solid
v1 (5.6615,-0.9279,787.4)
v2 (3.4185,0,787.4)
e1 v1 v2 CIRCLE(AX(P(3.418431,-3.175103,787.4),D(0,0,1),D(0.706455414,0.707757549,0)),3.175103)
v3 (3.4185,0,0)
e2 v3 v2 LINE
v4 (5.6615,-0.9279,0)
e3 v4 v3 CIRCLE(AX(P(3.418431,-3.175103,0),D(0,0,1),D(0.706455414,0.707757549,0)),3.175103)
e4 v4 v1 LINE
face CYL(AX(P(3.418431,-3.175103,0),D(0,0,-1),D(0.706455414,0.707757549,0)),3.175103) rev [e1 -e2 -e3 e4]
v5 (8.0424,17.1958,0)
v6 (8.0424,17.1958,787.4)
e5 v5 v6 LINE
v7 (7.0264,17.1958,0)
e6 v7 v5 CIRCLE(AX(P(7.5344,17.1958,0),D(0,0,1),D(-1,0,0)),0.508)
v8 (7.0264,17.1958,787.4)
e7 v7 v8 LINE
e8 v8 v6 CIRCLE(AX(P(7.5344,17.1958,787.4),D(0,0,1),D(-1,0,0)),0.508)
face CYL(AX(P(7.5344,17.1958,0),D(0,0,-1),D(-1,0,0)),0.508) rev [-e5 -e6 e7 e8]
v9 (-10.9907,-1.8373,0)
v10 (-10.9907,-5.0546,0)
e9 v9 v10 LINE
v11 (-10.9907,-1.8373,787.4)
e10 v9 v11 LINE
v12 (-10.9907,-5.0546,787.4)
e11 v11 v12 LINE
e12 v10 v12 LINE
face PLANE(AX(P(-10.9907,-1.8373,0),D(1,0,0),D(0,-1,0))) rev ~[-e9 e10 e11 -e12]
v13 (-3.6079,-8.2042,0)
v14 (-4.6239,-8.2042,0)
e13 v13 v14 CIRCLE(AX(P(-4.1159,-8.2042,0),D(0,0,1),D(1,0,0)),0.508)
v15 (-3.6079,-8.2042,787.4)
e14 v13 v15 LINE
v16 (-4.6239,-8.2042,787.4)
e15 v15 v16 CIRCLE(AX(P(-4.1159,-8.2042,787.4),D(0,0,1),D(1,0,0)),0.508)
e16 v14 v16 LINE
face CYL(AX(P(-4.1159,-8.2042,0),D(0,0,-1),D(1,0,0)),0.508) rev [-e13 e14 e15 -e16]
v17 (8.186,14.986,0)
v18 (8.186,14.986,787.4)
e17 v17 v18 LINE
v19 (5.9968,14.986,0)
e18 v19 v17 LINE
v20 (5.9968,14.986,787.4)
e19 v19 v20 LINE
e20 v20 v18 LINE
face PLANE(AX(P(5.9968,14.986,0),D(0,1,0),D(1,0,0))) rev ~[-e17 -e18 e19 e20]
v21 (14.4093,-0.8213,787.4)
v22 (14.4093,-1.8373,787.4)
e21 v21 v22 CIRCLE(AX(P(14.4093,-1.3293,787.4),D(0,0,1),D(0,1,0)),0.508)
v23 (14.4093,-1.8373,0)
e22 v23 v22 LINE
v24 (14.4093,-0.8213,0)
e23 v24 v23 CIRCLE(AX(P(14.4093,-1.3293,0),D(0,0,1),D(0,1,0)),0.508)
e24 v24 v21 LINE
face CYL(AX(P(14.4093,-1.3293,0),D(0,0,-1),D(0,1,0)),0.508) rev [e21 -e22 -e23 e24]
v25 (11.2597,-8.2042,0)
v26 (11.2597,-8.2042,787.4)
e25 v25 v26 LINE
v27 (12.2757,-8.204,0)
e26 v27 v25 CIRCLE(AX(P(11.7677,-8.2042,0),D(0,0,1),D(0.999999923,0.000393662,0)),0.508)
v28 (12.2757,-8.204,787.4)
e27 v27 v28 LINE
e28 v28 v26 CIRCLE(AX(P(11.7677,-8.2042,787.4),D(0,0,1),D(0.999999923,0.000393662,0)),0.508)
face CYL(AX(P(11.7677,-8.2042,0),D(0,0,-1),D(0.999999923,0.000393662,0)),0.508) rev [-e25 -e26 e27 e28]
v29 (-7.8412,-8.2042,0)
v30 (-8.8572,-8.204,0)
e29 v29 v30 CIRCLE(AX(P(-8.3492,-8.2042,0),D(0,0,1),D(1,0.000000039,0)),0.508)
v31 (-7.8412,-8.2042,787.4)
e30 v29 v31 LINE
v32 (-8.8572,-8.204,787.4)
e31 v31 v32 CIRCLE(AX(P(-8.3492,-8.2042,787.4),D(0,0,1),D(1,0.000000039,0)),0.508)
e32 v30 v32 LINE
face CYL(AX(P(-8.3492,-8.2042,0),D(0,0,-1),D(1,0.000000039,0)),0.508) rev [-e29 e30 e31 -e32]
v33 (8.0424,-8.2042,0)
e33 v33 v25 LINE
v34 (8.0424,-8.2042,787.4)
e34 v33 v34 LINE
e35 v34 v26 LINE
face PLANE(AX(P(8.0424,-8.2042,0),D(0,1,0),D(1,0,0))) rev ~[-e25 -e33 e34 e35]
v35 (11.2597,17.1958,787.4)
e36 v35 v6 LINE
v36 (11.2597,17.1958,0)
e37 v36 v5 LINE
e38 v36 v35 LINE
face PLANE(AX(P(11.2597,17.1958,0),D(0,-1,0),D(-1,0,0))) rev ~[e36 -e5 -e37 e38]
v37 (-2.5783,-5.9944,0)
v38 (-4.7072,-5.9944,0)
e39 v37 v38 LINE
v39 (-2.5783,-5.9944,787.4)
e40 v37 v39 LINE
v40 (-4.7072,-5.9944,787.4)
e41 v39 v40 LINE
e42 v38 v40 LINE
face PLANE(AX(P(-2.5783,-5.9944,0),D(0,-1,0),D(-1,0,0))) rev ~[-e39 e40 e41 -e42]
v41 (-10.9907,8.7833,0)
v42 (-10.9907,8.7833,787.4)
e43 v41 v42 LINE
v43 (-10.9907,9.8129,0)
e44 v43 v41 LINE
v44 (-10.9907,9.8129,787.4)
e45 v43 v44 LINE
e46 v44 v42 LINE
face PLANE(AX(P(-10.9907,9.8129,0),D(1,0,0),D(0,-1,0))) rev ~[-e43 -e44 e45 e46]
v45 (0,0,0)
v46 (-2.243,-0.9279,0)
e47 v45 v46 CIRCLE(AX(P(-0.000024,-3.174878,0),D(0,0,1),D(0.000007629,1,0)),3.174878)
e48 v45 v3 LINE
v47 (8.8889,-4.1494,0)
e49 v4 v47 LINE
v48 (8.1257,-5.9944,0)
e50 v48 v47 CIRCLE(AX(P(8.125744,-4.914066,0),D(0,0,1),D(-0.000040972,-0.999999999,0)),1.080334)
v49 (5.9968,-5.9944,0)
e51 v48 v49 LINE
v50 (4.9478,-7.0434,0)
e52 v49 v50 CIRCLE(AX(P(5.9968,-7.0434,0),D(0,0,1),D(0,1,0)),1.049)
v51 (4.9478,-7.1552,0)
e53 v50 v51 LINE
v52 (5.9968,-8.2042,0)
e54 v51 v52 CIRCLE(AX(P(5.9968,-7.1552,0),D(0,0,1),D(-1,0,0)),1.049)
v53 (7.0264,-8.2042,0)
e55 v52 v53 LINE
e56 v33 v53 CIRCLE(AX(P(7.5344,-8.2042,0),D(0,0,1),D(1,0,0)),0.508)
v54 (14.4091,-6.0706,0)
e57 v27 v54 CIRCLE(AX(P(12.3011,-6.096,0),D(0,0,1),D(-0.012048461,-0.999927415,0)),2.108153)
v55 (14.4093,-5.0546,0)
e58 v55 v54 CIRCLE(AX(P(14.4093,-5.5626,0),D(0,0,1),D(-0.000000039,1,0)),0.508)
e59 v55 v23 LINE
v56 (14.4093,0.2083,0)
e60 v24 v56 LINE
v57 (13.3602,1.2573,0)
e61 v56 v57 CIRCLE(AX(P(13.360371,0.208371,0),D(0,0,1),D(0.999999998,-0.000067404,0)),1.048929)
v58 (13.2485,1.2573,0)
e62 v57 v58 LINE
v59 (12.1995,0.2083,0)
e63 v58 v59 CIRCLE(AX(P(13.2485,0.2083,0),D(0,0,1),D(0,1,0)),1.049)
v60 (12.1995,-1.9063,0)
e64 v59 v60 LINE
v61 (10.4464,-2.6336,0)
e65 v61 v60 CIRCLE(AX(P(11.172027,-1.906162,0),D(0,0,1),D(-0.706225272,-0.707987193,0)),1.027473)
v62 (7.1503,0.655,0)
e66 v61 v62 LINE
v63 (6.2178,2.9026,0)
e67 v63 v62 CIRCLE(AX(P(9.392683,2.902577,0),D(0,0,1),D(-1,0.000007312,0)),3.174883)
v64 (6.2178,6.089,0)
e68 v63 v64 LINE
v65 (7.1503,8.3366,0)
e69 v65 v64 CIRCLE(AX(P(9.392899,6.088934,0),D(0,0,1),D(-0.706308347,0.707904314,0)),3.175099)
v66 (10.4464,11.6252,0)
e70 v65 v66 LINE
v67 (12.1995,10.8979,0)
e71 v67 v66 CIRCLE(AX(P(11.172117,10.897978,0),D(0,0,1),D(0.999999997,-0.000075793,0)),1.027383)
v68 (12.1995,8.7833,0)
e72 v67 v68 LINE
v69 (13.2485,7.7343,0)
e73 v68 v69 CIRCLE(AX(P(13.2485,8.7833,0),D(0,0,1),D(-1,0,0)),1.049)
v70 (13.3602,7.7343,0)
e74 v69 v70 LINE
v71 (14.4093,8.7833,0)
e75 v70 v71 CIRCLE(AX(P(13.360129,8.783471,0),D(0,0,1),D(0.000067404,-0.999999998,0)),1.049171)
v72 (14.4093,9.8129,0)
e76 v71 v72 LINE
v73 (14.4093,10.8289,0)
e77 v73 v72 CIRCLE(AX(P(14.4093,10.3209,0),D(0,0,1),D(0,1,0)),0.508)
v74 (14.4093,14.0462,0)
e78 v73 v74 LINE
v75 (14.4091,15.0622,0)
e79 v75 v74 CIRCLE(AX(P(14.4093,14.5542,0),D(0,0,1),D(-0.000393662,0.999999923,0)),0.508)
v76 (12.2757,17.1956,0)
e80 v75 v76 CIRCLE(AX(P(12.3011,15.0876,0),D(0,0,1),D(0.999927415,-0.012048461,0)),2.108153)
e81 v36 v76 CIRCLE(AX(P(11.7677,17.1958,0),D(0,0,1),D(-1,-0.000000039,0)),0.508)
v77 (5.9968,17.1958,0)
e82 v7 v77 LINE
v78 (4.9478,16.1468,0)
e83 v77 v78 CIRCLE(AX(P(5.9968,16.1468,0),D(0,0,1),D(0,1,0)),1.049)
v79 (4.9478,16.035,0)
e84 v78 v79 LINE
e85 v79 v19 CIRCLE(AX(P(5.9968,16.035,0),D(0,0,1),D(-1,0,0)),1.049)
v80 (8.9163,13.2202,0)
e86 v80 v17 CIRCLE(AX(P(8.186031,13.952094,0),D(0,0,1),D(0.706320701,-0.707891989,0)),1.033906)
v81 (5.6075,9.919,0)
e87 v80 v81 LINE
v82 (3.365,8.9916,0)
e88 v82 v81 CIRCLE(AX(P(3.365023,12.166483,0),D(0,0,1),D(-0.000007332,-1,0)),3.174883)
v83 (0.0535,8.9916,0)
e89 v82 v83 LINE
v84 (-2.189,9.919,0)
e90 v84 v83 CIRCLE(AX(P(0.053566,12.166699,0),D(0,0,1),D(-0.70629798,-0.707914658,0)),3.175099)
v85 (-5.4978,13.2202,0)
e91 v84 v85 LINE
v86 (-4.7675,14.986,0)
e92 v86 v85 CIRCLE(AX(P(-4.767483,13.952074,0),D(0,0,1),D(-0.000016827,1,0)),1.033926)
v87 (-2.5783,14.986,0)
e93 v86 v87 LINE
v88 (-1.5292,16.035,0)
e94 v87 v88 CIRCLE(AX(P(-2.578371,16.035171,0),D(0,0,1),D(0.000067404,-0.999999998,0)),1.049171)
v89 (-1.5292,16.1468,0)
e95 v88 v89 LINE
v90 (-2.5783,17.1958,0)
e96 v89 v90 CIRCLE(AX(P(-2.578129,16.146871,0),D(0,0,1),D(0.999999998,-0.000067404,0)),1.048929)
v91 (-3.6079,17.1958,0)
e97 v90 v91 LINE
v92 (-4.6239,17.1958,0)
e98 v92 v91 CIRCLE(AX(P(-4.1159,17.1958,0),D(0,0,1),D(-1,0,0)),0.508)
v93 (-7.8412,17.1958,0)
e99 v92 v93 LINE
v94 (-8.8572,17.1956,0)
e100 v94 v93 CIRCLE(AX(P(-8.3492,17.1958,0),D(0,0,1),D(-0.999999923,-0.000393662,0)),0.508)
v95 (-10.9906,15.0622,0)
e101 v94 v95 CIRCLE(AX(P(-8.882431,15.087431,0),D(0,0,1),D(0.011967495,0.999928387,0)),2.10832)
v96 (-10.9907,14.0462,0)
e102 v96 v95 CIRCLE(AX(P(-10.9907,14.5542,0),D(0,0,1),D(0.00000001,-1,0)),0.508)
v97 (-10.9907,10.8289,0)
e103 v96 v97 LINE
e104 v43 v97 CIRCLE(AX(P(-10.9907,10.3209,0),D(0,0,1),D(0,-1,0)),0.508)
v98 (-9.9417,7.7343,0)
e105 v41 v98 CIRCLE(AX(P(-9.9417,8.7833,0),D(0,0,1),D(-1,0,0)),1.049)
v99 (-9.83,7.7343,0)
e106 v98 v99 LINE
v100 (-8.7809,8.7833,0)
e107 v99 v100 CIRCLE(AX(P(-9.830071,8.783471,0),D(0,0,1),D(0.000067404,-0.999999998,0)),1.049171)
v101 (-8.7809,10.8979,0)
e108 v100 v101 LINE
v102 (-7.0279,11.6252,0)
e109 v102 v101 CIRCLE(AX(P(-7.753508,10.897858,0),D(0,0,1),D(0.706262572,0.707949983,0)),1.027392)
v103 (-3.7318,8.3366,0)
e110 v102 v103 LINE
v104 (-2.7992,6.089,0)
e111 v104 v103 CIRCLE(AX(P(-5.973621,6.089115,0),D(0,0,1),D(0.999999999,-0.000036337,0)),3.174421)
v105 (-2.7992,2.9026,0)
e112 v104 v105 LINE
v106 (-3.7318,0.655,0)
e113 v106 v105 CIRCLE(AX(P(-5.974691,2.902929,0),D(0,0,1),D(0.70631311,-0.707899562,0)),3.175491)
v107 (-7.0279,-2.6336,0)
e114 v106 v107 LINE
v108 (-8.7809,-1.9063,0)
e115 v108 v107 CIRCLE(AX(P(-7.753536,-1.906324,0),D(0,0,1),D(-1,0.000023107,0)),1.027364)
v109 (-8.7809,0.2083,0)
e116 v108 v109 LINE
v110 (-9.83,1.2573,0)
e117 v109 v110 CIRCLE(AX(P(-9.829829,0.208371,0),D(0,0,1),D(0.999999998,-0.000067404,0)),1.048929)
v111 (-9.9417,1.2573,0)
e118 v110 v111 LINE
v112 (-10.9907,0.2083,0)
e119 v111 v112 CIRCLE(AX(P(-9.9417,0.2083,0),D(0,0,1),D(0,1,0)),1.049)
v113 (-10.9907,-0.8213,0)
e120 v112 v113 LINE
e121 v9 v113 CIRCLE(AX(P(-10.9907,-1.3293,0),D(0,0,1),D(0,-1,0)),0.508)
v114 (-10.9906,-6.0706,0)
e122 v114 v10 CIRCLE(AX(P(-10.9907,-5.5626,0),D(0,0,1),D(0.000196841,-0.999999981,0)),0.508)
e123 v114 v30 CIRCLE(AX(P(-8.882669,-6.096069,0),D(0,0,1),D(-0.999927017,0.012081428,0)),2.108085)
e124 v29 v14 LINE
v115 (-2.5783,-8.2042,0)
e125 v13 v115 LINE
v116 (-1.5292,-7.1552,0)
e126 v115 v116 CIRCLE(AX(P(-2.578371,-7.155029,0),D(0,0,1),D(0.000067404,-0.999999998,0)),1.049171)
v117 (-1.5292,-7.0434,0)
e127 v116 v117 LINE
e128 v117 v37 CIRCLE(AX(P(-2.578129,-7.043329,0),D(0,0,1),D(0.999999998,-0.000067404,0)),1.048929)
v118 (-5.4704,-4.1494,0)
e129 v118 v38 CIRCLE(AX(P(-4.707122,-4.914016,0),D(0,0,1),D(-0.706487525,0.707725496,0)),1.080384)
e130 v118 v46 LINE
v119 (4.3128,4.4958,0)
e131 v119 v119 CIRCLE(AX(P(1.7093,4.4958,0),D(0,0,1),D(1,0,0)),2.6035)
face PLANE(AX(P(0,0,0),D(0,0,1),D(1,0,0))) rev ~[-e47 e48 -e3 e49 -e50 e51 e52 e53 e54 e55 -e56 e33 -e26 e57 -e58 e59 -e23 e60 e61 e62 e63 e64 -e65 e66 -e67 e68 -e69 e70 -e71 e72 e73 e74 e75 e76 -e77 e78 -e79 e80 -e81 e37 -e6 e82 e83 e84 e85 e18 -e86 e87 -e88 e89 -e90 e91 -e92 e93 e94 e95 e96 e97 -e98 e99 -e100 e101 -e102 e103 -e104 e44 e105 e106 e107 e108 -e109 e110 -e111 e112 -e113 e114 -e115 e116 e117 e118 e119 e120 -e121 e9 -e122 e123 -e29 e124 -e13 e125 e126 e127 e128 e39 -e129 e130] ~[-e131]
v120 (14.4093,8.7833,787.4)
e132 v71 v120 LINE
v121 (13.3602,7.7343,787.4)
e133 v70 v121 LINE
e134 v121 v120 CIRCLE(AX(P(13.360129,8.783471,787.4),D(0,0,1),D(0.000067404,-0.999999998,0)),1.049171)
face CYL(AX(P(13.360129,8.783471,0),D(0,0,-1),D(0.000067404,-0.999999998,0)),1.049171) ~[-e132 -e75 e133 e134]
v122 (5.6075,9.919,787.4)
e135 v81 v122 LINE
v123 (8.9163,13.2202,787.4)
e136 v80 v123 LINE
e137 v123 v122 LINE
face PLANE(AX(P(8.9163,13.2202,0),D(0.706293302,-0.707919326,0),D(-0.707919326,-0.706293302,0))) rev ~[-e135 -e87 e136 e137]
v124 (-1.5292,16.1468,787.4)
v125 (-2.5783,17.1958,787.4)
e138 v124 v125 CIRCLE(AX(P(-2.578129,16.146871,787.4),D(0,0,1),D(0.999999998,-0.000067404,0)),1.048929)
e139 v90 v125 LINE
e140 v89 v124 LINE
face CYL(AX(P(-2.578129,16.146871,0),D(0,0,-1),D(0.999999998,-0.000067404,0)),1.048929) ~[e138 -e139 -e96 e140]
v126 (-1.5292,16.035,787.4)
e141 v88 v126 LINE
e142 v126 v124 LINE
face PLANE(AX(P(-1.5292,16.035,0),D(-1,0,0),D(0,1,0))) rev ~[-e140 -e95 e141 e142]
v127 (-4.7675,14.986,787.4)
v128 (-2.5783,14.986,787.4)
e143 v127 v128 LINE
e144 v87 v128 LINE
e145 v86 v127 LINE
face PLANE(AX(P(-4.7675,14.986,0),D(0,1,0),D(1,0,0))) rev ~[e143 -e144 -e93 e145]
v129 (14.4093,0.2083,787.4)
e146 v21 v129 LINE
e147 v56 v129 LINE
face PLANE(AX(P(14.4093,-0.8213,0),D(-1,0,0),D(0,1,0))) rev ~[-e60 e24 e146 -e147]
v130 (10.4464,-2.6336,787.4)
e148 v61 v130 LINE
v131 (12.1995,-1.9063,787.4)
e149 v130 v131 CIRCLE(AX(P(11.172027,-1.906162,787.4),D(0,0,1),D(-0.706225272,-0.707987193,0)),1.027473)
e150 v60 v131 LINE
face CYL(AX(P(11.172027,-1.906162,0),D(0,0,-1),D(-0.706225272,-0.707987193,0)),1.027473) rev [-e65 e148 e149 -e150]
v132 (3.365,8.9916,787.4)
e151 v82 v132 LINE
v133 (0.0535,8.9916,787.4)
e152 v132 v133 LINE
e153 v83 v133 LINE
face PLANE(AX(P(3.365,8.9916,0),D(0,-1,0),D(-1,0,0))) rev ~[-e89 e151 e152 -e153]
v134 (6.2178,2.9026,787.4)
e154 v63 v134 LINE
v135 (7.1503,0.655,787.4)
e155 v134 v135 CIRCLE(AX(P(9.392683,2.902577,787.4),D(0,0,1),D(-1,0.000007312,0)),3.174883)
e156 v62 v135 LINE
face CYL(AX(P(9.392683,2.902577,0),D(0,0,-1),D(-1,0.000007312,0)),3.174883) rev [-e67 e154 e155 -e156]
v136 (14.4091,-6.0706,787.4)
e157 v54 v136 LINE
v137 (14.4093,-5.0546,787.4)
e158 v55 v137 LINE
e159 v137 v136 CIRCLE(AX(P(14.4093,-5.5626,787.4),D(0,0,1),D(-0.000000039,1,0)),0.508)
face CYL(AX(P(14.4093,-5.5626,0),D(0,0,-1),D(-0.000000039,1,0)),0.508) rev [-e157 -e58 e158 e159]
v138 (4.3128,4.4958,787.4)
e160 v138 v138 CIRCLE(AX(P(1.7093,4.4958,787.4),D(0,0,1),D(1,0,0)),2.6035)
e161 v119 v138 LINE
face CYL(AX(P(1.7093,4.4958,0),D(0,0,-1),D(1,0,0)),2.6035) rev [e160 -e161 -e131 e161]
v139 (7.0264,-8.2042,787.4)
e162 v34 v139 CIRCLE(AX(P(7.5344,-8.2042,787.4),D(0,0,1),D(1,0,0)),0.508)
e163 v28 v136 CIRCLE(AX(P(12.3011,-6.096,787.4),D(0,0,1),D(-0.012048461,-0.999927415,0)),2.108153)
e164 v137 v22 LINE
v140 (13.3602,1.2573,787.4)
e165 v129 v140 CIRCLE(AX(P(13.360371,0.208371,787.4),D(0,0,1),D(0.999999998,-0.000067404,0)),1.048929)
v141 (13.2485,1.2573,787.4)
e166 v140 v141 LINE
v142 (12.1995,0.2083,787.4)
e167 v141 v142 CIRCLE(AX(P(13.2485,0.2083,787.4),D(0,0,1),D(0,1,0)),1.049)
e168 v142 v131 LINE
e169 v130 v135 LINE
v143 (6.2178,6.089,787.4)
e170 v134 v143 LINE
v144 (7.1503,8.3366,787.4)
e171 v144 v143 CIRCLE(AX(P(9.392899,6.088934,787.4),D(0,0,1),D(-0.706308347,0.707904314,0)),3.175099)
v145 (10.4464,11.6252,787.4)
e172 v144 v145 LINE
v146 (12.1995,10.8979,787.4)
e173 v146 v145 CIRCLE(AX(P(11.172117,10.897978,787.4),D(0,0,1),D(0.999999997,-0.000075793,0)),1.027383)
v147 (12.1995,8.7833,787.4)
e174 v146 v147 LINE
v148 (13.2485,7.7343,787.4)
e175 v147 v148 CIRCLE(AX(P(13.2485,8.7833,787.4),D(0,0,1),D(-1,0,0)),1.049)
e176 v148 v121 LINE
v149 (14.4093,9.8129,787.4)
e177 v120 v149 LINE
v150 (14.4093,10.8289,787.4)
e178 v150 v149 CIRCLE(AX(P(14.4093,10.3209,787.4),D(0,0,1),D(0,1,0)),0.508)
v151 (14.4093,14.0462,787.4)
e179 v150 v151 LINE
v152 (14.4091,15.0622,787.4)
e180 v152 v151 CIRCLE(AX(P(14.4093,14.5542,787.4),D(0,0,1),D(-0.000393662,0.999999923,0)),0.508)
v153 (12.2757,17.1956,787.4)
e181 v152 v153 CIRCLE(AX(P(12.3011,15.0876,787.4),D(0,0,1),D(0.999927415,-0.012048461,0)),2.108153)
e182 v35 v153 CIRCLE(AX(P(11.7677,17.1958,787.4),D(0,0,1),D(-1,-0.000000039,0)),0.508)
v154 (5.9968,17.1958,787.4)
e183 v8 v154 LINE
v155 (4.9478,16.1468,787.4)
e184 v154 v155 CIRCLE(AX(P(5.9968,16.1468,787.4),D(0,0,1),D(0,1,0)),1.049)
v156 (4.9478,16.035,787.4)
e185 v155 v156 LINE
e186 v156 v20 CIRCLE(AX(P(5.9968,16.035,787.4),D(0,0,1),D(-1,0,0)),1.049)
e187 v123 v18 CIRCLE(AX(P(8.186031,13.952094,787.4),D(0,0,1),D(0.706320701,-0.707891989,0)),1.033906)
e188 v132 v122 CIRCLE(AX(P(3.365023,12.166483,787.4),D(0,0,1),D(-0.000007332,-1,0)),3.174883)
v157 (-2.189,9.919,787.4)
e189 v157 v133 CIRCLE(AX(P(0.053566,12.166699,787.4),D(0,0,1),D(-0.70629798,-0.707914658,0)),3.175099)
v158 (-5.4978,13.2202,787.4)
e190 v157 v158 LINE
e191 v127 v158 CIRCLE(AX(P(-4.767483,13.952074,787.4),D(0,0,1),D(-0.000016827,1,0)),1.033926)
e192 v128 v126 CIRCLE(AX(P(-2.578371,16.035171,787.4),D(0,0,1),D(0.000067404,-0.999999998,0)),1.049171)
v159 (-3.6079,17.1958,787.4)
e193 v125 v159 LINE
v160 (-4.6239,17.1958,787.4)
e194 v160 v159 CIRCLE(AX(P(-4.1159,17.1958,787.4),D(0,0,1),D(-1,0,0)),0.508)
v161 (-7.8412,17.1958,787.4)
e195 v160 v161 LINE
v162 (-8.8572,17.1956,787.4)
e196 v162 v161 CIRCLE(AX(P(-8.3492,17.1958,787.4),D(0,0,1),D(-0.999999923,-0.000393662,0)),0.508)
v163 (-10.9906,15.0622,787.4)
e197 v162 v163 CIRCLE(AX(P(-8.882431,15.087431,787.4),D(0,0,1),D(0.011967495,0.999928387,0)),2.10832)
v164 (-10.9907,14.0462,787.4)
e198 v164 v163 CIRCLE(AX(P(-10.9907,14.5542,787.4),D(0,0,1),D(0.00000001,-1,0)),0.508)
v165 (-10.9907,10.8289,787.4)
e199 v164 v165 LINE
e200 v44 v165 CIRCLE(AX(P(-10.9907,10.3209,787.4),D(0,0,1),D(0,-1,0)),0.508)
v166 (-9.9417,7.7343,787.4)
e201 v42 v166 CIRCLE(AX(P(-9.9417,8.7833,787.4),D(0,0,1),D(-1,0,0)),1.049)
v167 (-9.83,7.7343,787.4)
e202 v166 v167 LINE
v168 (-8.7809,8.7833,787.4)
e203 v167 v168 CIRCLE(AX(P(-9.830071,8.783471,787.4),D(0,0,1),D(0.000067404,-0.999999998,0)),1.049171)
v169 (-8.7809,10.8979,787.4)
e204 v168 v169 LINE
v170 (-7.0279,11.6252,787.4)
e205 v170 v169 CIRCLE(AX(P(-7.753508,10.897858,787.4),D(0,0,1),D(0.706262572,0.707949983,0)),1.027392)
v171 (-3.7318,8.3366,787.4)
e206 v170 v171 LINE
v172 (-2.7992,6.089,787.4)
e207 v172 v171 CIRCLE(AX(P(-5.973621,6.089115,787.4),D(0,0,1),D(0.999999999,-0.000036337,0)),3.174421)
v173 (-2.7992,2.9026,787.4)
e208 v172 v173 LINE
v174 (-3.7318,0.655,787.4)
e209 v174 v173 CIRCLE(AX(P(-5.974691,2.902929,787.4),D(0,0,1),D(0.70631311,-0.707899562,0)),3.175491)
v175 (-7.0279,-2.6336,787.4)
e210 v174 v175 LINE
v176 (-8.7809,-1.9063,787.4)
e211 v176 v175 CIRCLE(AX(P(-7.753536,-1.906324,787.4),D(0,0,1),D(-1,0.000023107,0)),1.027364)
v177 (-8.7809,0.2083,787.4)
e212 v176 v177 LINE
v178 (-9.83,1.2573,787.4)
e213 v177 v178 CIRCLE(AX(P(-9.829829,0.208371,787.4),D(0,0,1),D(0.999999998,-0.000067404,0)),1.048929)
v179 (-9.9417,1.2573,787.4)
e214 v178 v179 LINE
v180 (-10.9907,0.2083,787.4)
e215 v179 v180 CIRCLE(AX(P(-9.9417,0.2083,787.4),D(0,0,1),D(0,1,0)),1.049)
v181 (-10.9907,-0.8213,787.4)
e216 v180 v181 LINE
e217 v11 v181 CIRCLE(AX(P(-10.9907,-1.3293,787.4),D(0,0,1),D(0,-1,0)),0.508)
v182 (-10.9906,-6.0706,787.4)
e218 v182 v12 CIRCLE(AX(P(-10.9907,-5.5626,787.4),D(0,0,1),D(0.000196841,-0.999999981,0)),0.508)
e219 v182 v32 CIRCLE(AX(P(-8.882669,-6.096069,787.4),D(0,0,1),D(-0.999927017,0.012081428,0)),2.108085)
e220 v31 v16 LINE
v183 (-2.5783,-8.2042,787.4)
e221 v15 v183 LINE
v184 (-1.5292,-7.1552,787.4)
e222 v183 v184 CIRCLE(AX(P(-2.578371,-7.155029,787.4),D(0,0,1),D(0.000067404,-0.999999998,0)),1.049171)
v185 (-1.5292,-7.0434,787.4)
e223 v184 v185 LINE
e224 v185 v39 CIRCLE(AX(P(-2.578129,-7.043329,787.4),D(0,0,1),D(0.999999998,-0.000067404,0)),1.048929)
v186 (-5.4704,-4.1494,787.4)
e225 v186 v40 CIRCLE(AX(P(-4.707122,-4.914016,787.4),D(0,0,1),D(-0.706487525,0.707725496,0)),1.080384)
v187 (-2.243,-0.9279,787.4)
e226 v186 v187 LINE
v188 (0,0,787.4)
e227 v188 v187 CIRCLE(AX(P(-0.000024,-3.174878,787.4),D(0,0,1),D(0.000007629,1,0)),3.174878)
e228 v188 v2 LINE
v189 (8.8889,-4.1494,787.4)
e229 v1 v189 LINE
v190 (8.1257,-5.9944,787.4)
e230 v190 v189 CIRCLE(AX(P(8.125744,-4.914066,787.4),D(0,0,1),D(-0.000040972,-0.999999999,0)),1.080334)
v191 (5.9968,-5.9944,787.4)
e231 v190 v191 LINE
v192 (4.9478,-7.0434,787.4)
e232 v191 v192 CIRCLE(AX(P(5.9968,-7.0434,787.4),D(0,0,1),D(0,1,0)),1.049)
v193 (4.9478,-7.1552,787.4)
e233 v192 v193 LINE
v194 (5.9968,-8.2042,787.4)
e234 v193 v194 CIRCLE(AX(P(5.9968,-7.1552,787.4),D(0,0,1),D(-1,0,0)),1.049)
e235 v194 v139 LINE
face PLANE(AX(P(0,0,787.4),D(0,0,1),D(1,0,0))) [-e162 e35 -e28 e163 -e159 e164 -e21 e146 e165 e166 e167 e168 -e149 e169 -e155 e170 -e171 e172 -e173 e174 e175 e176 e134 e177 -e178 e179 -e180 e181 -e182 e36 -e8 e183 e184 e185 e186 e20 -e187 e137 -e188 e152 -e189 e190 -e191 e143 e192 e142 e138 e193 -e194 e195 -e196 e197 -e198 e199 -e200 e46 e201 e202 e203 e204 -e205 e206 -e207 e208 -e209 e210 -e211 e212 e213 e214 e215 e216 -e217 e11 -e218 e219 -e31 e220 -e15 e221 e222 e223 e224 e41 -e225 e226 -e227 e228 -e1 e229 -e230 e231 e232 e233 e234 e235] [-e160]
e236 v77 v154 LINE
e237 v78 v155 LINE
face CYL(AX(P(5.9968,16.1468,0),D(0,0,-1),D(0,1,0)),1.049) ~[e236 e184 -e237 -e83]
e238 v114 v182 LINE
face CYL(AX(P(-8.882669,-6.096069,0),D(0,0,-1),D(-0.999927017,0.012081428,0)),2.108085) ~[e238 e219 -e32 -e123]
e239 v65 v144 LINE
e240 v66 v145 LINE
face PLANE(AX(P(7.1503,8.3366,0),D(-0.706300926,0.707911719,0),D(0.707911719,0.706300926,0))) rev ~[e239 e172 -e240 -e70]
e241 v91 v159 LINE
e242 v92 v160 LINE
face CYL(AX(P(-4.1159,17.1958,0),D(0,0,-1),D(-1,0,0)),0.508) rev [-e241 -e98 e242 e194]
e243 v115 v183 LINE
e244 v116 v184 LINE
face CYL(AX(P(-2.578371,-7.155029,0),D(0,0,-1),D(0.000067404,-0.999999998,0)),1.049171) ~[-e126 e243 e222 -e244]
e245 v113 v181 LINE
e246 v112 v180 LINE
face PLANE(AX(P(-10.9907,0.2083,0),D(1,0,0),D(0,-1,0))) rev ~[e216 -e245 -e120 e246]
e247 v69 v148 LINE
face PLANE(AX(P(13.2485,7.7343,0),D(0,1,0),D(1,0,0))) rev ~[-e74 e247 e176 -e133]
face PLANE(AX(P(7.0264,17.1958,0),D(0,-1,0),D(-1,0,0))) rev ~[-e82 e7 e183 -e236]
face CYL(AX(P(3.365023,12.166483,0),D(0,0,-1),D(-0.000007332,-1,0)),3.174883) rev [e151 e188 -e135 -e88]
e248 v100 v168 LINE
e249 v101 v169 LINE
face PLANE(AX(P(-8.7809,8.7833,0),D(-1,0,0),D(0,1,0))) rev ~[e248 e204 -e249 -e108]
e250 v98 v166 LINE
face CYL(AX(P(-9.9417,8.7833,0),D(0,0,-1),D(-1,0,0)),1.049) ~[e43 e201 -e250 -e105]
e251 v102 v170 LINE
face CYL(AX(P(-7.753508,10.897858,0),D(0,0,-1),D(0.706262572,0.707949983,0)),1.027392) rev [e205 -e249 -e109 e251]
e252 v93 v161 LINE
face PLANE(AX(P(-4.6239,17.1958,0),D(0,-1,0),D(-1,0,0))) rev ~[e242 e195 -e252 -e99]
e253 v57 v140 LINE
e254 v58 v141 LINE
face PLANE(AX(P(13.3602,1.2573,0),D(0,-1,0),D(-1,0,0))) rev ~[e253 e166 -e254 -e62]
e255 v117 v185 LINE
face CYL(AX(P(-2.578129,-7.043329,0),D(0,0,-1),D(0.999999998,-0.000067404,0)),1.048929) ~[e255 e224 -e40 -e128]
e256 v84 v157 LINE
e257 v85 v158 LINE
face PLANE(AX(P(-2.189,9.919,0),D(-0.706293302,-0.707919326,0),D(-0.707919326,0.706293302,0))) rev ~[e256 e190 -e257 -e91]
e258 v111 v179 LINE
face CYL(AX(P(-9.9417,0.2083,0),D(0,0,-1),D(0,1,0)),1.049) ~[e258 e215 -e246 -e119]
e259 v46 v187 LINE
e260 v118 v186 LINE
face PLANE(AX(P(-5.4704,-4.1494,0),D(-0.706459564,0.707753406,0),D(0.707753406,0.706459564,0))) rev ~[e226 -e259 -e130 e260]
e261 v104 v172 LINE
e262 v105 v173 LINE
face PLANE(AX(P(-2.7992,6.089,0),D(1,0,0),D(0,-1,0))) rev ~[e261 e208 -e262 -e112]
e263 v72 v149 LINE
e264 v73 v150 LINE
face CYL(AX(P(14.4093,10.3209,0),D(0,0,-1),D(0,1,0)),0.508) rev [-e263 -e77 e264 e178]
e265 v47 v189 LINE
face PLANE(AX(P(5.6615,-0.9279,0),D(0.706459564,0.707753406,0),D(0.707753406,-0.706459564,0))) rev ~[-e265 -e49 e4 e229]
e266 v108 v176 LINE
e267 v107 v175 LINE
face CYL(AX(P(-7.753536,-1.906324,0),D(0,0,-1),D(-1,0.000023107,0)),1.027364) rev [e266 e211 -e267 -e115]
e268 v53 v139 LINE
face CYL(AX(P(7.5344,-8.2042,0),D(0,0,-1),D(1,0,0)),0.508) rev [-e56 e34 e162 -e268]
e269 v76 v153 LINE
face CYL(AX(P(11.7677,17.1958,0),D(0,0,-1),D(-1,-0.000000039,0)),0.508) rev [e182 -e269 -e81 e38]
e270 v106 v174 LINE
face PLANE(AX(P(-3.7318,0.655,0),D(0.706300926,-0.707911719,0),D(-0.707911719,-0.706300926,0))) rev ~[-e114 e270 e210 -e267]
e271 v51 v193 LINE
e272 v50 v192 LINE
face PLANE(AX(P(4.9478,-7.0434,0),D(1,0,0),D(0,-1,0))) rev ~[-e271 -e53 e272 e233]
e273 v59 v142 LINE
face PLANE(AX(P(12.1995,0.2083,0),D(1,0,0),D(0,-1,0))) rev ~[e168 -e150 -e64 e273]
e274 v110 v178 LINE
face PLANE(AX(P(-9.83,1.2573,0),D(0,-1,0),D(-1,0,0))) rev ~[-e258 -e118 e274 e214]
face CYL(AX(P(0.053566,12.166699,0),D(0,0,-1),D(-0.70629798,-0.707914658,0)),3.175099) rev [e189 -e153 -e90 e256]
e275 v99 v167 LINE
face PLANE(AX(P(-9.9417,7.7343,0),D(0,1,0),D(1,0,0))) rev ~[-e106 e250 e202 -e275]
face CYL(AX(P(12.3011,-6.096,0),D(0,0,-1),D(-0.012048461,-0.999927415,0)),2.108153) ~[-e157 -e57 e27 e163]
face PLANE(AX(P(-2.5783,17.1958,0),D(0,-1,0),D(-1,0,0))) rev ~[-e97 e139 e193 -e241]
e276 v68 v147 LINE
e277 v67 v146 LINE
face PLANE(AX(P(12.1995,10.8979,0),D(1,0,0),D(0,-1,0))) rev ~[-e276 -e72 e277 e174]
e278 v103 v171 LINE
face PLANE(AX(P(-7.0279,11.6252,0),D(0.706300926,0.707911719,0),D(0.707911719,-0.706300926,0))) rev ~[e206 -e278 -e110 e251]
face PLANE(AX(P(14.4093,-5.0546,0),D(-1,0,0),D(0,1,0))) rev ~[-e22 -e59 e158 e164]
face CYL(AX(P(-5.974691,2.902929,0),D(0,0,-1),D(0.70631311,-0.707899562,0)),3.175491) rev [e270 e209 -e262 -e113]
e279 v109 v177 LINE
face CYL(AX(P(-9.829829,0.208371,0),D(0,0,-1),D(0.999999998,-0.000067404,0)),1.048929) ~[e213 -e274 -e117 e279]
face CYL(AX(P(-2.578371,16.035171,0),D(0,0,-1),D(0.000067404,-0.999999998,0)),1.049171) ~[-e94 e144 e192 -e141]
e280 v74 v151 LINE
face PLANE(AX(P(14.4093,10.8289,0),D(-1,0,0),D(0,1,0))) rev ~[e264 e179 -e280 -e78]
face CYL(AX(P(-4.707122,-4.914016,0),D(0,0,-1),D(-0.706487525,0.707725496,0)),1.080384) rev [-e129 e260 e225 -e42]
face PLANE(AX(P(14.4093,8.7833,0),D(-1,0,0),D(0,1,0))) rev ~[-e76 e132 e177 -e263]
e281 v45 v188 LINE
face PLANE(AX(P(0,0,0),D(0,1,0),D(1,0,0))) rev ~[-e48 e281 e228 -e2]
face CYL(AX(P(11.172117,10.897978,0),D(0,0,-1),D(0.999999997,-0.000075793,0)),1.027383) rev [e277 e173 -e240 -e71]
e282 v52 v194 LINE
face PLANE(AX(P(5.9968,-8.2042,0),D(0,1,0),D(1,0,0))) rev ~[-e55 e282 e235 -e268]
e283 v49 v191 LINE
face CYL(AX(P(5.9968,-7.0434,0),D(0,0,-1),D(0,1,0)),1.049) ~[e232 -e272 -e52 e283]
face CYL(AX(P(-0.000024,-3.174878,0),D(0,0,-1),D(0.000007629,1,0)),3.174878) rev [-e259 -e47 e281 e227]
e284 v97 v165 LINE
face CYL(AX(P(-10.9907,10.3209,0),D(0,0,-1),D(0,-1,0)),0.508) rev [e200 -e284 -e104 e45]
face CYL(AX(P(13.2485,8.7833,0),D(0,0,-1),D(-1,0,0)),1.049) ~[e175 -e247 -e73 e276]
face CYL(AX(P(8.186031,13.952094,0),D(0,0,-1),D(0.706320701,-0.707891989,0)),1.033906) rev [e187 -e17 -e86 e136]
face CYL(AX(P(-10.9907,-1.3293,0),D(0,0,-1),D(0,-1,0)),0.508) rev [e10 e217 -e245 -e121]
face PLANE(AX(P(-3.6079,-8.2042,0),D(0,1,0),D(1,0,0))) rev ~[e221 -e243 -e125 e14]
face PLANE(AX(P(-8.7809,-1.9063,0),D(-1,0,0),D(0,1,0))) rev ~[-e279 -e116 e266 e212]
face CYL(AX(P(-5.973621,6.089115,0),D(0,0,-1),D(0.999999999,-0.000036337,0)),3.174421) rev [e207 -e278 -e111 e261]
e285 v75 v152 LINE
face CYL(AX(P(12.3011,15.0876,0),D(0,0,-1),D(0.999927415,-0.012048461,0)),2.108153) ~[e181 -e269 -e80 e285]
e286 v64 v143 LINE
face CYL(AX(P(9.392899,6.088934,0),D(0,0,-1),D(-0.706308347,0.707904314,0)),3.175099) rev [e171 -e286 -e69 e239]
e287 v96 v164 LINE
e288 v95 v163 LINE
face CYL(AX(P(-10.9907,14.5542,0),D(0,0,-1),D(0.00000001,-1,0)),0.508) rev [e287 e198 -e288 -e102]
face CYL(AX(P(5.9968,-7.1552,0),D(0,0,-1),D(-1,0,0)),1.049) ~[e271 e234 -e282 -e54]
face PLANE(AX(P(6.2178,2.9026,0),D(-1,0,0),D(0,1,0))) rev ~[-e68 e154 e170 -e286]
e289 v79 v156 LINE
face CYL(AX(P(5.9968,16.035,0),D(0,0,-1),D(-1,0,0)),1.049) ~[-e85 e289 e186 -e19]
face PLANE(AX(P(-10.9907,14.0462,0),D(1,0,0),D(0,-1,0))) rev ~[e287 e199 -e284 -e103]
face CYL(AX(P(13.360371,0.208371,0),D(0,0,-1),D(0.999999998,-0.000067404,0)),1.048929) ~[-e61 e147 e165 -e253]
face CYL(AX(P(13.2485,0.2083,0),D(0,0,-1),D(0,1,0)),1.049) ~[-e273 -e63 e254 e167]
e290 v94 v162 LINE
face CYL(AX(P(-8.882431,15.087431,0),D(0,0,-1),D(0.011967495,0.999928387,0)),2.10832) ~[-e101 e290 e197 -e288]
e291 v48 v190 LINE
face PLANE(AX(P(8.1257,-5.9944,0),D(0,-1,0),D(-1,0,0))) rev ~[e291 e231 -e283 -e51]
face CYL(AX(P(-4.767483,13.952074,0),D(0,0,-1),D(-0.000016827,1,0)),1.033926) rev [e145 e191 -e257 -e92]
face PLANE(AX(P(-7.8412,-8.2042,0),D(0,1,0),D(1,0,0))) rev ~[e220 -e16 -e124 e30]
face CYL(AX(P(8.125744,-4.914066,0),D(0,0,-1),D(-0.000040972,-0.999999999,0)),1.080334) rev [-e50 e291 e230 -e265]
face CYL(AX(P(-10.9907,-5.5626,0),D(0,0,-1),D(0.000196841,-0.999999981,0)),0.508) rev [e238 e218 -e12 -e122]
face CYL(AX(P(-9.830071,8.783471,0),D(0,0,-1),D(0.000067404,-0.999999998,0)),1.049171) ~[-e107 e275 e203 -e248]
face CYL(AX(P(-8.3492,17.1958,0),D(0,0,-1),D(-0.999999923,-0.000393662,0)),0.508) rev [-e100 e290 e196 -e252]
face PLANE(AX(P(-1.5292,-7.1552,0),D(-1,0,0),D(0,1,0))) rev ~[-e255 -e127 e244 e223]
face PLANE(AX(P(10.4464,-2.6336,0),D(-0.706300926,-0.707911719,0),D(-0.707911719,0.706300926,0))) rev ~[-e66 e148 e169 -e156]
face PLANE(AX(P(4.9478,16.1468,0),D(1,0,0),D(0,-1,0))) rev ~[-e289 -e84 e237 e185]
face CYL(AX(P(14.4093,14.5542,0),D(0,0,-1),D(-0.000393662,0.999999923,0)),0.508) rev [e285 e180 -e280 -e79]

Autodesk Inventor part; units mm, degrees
ref_plane "YZ Plane" through (0, 0, 0) normal (1, 0, 0) x (0, 1, 0)
ref_plane "XZ Plane" through (0, 0, 0) normal (0, 1, 0) x (-1, 0, 0)
ref_plane "XY Plane" through (0, 0, 0) normal (0, 0, 1) x (1, 0, 0)
sketch "Sketch1" plane through (0, 0, 0) normal (0, 0, 1) x (1, 0, 0)
  arc A0 (-5.4704, -4.1494) -> (-4.7072, -5.9944) centre (-4.7072, -4.914) ccw
  line L0 (-5.4704, -4.1494) -> (-2.243, -0.9279)
  arc A1 (0, 0) -> (-2.243, -0.9279) centre (0, -3.175) ccw
  line L1 (0, 0) -> (3.4185, 0)
  arc A2 (5.6615, -0.9279) -> (3.4185, 0) centre (3.4185, -3.175) ccw
  line L2 (5.6615, -0.9279) -> (8.8889, -4.1494)
  arc A3 (8.1257, -5.9944) -> (8.8889, -4.1494) centre (8.1257, -4.914) ccw
  line L3 (8.1257, -5.9944) -> (5.9968, -5.9944)
  arc A4 (5.9968, -5.9944) -> (4.9478, -7.0434) centre (5.9968, -7.0434) ccw
  line L4 (4.9478, -7.0434) -> (4.9478, -7.1552)
  arc A5 (4.9478, -7.1552) -> (5.9968, -8.2042) centre (5.9968, -7.1552) ccw
  line L5 (5.9968, -8.2042) -> (7.0264, -8.2042)
  arc A6 (8.0424, -8.2042) -> (7.0264, -8.2042) centre (7.5344, -8.2042) ccw
  line L6 (8.0424, -8.2042) -> (11.2597, -8.2042)
  arc A7 (12.2757, -8.204) -> (11.2597, -8.2042) centre (11.7677, -8.2042) ccw
  arc A8 (12.2757, -8.204) -> (14.4091, -6.0706) centre (12.3011, -6.096) ccw
  arc A9 (14.4093, -5.0546) -> (14.4091, -6.0706) centre (14.4093, -5.5626) ccw
  line L7 (14.4093, -5.0546) -> (14.4093, -1.8373)
  arc A10 (14.4093, -0.8213) -> (14.4093, -1.8373) centre (14.4093, -1.3293) ccw
  line L8 (14.4093, -0.8213) -> (14.4093, 0.2083)
  arc A11 (14.4093, 0.2083) -> (13.3602, 1.2573) centre (13.3602, 0.2083) ccw
  line L9 (13.3602, 1.2573) -> (13.2485, 1.2573)
  arc A12 (13.2485, 1.2573) -> (12.1995, 0.2083) centre (13.2485, 0.2083) ccw
  line L10 (12.1995, 0.2083) -> (12.1995, -1.9063)
  arc A13 (10.4464, -2.6336) -> (12.1995, -1.9063) centre (11.172, -1.9063) ccw
  line L11 (10.4464, -2.6336) -> (7.1503, 0.655)
  arc A14 (6.2178, 2.9026) -> (7.1503, 0.655) centre (9.3928, 2.9026) ccw
  line L12 (6.2178, 2.9026) -> (6.2178, 6.089)
  arc A15 (7.1503, 8.3366) -> (6.2178, 6.089) centre (9.3928, 6.089) ccw
  line L13 (7.1503, 8.3366) -> (10.4464, 11.6252)
  arc A16 (12.1995, 10.8979) -> (10.4464, 11.6252) centre (11.172, 10.8979) ccw
  line L14 (12.1995, 10.8979) -> (12.1995, 8.7833)
  arc A17 (12.1995, 8.7833) -> (13.2485, 7.7343) centre (13.2485, 8.7833) ccw
  line L15 (13.2485, 7.7343) -> (13.3602, 7.7343)
  arc A18 (13.3602, 7.7343) -> (14.4093, 8.7833) centre (13.3602, 8.7833) ccw
  line L16 (14.4093, 8.7833) -> (14.4093, 9.8129)
  arc A19 (14.4093, 10.8289) -> (14.4093, 9.8129) centre (14.4093, 10.3209) ccw
  line L17 (14.4093, 10.8289) -> (14.4093, 14.0462)
  arc A20 (14.4091, 15.0622) -> (14.4093, 14.0462) centre (14.4093, 14.5542) ccw
  arc A21 (14.4091, 15.0622) -> (12.2757, 17.1956) centre (12.3011, 15.0876) ccw
  arc A22 (11.2597, 17.1958) -> (12.2757, 17.1956) centre (11.7677, 17.1958) ccw
  line L18 (11.2597, 17.1958) -> (8.0424, 17.1958)
  arc A23 (7.0264, 17.1958) -> (8.0424, 17.1958) centre (7.5344, 17.1958) ccw
  line L19 (7.0264, 17.1958) -> (5.9968, 17.1958)
  arc A24 (5.9968, 17.1958) -> (4.9478, 16.1468) centre (5.9968, 16.1468) ccw
  line L20 (4.9478, 16.1468) -> (4.9478, 16.035)
  arc A25 (4.9478, 16.035) -> (5.9968, 14.986) centre (5.9968, 16.035) ccw
  line L21 (5.9968, 14.986) -> (8.186, 14.986)
  arc A26 (8.9163, 13.2202) -> (8.186, 14.986) centre (8.186, 13.9521) ccw
  line L22 (8.9163, 13.2202) -> (5.6075, 9.919)
  arc A27 (3.365, 8.9916) -> (5.6075, 9.919) centre (3.365, 12.1666) ccw
  line L23 (3.365, 8.9916) -> (0.0535, 8.9916)
  arc A28 (-2.189, 9.919) -> (0.0535, 8.9916) centre (0.0535, 12.1666) ccw
  line L24 (-2.189, 9.919) -> (-5.4978, 13.2202)
  arc A29 (-4.7675, 14.986) -> (-5.4978, 13.2202) centre (-4.7675, 13.9521) ccw
  line L25 (-4.7675, 14.986) -> (-2.5783, 14.986)
  arc A30 (-2.5783, 14.986) -> (-1.5292, 16.035) centre (-2.5783, 16.035) ccw
  line L26 (-1.5292, 16.035) -> (-1.5292, 16.1468)
  arc A31 (-1.5292, 16.1468) -> (-2.5783, 17.1958) centre (-2.5783, 16.1468) ccw
  line L27 (-2.5783, 17.1958) -> (-3.6079, 17.1958)
  arc A32 (-4.6239, 17.1958) -> (-3.6079, 17.1958) centre (-4.1159, 17.1958) ccw
  line L28 (-4.6239, 17.1958) -> (-7.8412, 17.1958)
  arc A33 (-8.8572, 17.1956) -> (-7.8412, 17.1958) centre (-8.3492, 17.1958) ccw
  arc A34 (-8.8572, 17.1956) -> (-10.9906, 15.0622) centre (-8.8825, 15.0876) ccw
  arc A35 (-10.9907, 14.0462) -> (-10.9906, 15.0622) centre (-10.9907, 14.5542) ccw
  line L29 (-10.9907, 14.0462) -> (-10.9907, 10.8289)
  arc A36 (-10.9907, 9.8129) -> (-10.9907, 10.8289) centre (-10.9907, 10.3209) ccw
  line L30 (-10.9907, 9.8129) -> (-10.9907, 8.7833)
  arc A37 (-10.9907, 8.7833) -> (-9.9417, 7.7343) centre (-9.9417, 8.7833) ccw
  line L31 (-9.9417, 7.7343) -> (-9.83, 7.7343)
  arc A38 (-9.83, 7.7343) -> (-8.7809, 8.7833) centre (-9.83, 8.7833) ccw
  line L32 (-8.7809, 8.7833) -> (-8.7809, 10.8979)
  arc A39 (-7.0279, 11.6252) -> (-8.7809, 10.8979) centre (-7.7535, 10.8979) ccw
  line L33 (-7.0279, 11.6252) -> (-3.7318, 8.3366)
  arc A40 (-2.7992, 6.089) -> (-3.7318, 8.3366) centre (-5.9742, 6.089) ccw
  line L34 (-2.7992, 6.089) -> (-2.7992, 2.9026)
  arc A41 (-3.7318, 0.655) -> (-2.7992, 2.9026) centre (-5.9742, 2.9026) ccw
  line L35 (-3.7318, 0.655) -> (-7.0279, -2.6336)
  arc A42 (-8.7809, -1.9063) -> (-7.0279, -2.6336) centre (-7.7535, -1.9063) ccw
  line L36 (-8.7809, -1.9063) -> (-8.7809, 0.2083)
  arc A43 (-8.7809, 0.2083) -> (-9.83, 1.2573) centre (-9.83, 0.2083) ccw
  line L37 (-9.83, 1.2573) -> (-9.9417, 1.2573)
  arc A44 (-9.9417, 1.2573) -> (-10.9907, 0.2083) centre (-9.9417, 0.2083) ccw
  line L38 (-10.9907, 0.2083) -> (-10.9907, -0.8213)
  arc A45 (-10.9907, -1.8373) -> (-10.9907, -0.8213) centre (-10.9907, -1.3293) ccw
  line L39 (-10.9907, -1.8373) -> (-10.9907, -5.0546)
  arc A46 (-10.9906, -6.0706) -> (-10.9907, -5.0546) centre (-10.9907, -5.5626) ccw
  arc A47 (-10.9906, -6.0706) -> (-8.8572, -8.204) centre (-8.8825, -6.096) ccw
  arc A48 (-7.8412, -8.2042) -> (-8.8572, -8.204) centre (-8.3492, -8.2042) ccw
  line L40 (-7.8412, -8.2042) -> (-4.6239, -8.2042)
  arc A49 (-3.6079, -8.2042) -> (-4.6239, -8.2042) centre (-4.1159, -8.2042) ccw
  line L41 (-3.6079, -8.2042) -> (-2.5783, -8.2042)
  arc A50 (-2.5783, -8.2042) -> (-1.5292, -7.1552) centre (-2.5783, -7.1552) ccw
  line L42 (-1.5292, -7.1552) -> (-1.5292, -7.0434)
  arc A51 (-1.5292, -7.0434) -> (-2.5783, -5.9944) centre (-2.5783, -7.0434) ccw
  line L43 (-2.5783, -5.9944) -> (-4.7072, -5.9944)
  circle A52 centre (1.7093, 4.4958) radius 2.6035
extrude "Extrusion1" add sketch "Sketch1" along normal blind 787.4
properties part number "31in 1x1 T slot"
